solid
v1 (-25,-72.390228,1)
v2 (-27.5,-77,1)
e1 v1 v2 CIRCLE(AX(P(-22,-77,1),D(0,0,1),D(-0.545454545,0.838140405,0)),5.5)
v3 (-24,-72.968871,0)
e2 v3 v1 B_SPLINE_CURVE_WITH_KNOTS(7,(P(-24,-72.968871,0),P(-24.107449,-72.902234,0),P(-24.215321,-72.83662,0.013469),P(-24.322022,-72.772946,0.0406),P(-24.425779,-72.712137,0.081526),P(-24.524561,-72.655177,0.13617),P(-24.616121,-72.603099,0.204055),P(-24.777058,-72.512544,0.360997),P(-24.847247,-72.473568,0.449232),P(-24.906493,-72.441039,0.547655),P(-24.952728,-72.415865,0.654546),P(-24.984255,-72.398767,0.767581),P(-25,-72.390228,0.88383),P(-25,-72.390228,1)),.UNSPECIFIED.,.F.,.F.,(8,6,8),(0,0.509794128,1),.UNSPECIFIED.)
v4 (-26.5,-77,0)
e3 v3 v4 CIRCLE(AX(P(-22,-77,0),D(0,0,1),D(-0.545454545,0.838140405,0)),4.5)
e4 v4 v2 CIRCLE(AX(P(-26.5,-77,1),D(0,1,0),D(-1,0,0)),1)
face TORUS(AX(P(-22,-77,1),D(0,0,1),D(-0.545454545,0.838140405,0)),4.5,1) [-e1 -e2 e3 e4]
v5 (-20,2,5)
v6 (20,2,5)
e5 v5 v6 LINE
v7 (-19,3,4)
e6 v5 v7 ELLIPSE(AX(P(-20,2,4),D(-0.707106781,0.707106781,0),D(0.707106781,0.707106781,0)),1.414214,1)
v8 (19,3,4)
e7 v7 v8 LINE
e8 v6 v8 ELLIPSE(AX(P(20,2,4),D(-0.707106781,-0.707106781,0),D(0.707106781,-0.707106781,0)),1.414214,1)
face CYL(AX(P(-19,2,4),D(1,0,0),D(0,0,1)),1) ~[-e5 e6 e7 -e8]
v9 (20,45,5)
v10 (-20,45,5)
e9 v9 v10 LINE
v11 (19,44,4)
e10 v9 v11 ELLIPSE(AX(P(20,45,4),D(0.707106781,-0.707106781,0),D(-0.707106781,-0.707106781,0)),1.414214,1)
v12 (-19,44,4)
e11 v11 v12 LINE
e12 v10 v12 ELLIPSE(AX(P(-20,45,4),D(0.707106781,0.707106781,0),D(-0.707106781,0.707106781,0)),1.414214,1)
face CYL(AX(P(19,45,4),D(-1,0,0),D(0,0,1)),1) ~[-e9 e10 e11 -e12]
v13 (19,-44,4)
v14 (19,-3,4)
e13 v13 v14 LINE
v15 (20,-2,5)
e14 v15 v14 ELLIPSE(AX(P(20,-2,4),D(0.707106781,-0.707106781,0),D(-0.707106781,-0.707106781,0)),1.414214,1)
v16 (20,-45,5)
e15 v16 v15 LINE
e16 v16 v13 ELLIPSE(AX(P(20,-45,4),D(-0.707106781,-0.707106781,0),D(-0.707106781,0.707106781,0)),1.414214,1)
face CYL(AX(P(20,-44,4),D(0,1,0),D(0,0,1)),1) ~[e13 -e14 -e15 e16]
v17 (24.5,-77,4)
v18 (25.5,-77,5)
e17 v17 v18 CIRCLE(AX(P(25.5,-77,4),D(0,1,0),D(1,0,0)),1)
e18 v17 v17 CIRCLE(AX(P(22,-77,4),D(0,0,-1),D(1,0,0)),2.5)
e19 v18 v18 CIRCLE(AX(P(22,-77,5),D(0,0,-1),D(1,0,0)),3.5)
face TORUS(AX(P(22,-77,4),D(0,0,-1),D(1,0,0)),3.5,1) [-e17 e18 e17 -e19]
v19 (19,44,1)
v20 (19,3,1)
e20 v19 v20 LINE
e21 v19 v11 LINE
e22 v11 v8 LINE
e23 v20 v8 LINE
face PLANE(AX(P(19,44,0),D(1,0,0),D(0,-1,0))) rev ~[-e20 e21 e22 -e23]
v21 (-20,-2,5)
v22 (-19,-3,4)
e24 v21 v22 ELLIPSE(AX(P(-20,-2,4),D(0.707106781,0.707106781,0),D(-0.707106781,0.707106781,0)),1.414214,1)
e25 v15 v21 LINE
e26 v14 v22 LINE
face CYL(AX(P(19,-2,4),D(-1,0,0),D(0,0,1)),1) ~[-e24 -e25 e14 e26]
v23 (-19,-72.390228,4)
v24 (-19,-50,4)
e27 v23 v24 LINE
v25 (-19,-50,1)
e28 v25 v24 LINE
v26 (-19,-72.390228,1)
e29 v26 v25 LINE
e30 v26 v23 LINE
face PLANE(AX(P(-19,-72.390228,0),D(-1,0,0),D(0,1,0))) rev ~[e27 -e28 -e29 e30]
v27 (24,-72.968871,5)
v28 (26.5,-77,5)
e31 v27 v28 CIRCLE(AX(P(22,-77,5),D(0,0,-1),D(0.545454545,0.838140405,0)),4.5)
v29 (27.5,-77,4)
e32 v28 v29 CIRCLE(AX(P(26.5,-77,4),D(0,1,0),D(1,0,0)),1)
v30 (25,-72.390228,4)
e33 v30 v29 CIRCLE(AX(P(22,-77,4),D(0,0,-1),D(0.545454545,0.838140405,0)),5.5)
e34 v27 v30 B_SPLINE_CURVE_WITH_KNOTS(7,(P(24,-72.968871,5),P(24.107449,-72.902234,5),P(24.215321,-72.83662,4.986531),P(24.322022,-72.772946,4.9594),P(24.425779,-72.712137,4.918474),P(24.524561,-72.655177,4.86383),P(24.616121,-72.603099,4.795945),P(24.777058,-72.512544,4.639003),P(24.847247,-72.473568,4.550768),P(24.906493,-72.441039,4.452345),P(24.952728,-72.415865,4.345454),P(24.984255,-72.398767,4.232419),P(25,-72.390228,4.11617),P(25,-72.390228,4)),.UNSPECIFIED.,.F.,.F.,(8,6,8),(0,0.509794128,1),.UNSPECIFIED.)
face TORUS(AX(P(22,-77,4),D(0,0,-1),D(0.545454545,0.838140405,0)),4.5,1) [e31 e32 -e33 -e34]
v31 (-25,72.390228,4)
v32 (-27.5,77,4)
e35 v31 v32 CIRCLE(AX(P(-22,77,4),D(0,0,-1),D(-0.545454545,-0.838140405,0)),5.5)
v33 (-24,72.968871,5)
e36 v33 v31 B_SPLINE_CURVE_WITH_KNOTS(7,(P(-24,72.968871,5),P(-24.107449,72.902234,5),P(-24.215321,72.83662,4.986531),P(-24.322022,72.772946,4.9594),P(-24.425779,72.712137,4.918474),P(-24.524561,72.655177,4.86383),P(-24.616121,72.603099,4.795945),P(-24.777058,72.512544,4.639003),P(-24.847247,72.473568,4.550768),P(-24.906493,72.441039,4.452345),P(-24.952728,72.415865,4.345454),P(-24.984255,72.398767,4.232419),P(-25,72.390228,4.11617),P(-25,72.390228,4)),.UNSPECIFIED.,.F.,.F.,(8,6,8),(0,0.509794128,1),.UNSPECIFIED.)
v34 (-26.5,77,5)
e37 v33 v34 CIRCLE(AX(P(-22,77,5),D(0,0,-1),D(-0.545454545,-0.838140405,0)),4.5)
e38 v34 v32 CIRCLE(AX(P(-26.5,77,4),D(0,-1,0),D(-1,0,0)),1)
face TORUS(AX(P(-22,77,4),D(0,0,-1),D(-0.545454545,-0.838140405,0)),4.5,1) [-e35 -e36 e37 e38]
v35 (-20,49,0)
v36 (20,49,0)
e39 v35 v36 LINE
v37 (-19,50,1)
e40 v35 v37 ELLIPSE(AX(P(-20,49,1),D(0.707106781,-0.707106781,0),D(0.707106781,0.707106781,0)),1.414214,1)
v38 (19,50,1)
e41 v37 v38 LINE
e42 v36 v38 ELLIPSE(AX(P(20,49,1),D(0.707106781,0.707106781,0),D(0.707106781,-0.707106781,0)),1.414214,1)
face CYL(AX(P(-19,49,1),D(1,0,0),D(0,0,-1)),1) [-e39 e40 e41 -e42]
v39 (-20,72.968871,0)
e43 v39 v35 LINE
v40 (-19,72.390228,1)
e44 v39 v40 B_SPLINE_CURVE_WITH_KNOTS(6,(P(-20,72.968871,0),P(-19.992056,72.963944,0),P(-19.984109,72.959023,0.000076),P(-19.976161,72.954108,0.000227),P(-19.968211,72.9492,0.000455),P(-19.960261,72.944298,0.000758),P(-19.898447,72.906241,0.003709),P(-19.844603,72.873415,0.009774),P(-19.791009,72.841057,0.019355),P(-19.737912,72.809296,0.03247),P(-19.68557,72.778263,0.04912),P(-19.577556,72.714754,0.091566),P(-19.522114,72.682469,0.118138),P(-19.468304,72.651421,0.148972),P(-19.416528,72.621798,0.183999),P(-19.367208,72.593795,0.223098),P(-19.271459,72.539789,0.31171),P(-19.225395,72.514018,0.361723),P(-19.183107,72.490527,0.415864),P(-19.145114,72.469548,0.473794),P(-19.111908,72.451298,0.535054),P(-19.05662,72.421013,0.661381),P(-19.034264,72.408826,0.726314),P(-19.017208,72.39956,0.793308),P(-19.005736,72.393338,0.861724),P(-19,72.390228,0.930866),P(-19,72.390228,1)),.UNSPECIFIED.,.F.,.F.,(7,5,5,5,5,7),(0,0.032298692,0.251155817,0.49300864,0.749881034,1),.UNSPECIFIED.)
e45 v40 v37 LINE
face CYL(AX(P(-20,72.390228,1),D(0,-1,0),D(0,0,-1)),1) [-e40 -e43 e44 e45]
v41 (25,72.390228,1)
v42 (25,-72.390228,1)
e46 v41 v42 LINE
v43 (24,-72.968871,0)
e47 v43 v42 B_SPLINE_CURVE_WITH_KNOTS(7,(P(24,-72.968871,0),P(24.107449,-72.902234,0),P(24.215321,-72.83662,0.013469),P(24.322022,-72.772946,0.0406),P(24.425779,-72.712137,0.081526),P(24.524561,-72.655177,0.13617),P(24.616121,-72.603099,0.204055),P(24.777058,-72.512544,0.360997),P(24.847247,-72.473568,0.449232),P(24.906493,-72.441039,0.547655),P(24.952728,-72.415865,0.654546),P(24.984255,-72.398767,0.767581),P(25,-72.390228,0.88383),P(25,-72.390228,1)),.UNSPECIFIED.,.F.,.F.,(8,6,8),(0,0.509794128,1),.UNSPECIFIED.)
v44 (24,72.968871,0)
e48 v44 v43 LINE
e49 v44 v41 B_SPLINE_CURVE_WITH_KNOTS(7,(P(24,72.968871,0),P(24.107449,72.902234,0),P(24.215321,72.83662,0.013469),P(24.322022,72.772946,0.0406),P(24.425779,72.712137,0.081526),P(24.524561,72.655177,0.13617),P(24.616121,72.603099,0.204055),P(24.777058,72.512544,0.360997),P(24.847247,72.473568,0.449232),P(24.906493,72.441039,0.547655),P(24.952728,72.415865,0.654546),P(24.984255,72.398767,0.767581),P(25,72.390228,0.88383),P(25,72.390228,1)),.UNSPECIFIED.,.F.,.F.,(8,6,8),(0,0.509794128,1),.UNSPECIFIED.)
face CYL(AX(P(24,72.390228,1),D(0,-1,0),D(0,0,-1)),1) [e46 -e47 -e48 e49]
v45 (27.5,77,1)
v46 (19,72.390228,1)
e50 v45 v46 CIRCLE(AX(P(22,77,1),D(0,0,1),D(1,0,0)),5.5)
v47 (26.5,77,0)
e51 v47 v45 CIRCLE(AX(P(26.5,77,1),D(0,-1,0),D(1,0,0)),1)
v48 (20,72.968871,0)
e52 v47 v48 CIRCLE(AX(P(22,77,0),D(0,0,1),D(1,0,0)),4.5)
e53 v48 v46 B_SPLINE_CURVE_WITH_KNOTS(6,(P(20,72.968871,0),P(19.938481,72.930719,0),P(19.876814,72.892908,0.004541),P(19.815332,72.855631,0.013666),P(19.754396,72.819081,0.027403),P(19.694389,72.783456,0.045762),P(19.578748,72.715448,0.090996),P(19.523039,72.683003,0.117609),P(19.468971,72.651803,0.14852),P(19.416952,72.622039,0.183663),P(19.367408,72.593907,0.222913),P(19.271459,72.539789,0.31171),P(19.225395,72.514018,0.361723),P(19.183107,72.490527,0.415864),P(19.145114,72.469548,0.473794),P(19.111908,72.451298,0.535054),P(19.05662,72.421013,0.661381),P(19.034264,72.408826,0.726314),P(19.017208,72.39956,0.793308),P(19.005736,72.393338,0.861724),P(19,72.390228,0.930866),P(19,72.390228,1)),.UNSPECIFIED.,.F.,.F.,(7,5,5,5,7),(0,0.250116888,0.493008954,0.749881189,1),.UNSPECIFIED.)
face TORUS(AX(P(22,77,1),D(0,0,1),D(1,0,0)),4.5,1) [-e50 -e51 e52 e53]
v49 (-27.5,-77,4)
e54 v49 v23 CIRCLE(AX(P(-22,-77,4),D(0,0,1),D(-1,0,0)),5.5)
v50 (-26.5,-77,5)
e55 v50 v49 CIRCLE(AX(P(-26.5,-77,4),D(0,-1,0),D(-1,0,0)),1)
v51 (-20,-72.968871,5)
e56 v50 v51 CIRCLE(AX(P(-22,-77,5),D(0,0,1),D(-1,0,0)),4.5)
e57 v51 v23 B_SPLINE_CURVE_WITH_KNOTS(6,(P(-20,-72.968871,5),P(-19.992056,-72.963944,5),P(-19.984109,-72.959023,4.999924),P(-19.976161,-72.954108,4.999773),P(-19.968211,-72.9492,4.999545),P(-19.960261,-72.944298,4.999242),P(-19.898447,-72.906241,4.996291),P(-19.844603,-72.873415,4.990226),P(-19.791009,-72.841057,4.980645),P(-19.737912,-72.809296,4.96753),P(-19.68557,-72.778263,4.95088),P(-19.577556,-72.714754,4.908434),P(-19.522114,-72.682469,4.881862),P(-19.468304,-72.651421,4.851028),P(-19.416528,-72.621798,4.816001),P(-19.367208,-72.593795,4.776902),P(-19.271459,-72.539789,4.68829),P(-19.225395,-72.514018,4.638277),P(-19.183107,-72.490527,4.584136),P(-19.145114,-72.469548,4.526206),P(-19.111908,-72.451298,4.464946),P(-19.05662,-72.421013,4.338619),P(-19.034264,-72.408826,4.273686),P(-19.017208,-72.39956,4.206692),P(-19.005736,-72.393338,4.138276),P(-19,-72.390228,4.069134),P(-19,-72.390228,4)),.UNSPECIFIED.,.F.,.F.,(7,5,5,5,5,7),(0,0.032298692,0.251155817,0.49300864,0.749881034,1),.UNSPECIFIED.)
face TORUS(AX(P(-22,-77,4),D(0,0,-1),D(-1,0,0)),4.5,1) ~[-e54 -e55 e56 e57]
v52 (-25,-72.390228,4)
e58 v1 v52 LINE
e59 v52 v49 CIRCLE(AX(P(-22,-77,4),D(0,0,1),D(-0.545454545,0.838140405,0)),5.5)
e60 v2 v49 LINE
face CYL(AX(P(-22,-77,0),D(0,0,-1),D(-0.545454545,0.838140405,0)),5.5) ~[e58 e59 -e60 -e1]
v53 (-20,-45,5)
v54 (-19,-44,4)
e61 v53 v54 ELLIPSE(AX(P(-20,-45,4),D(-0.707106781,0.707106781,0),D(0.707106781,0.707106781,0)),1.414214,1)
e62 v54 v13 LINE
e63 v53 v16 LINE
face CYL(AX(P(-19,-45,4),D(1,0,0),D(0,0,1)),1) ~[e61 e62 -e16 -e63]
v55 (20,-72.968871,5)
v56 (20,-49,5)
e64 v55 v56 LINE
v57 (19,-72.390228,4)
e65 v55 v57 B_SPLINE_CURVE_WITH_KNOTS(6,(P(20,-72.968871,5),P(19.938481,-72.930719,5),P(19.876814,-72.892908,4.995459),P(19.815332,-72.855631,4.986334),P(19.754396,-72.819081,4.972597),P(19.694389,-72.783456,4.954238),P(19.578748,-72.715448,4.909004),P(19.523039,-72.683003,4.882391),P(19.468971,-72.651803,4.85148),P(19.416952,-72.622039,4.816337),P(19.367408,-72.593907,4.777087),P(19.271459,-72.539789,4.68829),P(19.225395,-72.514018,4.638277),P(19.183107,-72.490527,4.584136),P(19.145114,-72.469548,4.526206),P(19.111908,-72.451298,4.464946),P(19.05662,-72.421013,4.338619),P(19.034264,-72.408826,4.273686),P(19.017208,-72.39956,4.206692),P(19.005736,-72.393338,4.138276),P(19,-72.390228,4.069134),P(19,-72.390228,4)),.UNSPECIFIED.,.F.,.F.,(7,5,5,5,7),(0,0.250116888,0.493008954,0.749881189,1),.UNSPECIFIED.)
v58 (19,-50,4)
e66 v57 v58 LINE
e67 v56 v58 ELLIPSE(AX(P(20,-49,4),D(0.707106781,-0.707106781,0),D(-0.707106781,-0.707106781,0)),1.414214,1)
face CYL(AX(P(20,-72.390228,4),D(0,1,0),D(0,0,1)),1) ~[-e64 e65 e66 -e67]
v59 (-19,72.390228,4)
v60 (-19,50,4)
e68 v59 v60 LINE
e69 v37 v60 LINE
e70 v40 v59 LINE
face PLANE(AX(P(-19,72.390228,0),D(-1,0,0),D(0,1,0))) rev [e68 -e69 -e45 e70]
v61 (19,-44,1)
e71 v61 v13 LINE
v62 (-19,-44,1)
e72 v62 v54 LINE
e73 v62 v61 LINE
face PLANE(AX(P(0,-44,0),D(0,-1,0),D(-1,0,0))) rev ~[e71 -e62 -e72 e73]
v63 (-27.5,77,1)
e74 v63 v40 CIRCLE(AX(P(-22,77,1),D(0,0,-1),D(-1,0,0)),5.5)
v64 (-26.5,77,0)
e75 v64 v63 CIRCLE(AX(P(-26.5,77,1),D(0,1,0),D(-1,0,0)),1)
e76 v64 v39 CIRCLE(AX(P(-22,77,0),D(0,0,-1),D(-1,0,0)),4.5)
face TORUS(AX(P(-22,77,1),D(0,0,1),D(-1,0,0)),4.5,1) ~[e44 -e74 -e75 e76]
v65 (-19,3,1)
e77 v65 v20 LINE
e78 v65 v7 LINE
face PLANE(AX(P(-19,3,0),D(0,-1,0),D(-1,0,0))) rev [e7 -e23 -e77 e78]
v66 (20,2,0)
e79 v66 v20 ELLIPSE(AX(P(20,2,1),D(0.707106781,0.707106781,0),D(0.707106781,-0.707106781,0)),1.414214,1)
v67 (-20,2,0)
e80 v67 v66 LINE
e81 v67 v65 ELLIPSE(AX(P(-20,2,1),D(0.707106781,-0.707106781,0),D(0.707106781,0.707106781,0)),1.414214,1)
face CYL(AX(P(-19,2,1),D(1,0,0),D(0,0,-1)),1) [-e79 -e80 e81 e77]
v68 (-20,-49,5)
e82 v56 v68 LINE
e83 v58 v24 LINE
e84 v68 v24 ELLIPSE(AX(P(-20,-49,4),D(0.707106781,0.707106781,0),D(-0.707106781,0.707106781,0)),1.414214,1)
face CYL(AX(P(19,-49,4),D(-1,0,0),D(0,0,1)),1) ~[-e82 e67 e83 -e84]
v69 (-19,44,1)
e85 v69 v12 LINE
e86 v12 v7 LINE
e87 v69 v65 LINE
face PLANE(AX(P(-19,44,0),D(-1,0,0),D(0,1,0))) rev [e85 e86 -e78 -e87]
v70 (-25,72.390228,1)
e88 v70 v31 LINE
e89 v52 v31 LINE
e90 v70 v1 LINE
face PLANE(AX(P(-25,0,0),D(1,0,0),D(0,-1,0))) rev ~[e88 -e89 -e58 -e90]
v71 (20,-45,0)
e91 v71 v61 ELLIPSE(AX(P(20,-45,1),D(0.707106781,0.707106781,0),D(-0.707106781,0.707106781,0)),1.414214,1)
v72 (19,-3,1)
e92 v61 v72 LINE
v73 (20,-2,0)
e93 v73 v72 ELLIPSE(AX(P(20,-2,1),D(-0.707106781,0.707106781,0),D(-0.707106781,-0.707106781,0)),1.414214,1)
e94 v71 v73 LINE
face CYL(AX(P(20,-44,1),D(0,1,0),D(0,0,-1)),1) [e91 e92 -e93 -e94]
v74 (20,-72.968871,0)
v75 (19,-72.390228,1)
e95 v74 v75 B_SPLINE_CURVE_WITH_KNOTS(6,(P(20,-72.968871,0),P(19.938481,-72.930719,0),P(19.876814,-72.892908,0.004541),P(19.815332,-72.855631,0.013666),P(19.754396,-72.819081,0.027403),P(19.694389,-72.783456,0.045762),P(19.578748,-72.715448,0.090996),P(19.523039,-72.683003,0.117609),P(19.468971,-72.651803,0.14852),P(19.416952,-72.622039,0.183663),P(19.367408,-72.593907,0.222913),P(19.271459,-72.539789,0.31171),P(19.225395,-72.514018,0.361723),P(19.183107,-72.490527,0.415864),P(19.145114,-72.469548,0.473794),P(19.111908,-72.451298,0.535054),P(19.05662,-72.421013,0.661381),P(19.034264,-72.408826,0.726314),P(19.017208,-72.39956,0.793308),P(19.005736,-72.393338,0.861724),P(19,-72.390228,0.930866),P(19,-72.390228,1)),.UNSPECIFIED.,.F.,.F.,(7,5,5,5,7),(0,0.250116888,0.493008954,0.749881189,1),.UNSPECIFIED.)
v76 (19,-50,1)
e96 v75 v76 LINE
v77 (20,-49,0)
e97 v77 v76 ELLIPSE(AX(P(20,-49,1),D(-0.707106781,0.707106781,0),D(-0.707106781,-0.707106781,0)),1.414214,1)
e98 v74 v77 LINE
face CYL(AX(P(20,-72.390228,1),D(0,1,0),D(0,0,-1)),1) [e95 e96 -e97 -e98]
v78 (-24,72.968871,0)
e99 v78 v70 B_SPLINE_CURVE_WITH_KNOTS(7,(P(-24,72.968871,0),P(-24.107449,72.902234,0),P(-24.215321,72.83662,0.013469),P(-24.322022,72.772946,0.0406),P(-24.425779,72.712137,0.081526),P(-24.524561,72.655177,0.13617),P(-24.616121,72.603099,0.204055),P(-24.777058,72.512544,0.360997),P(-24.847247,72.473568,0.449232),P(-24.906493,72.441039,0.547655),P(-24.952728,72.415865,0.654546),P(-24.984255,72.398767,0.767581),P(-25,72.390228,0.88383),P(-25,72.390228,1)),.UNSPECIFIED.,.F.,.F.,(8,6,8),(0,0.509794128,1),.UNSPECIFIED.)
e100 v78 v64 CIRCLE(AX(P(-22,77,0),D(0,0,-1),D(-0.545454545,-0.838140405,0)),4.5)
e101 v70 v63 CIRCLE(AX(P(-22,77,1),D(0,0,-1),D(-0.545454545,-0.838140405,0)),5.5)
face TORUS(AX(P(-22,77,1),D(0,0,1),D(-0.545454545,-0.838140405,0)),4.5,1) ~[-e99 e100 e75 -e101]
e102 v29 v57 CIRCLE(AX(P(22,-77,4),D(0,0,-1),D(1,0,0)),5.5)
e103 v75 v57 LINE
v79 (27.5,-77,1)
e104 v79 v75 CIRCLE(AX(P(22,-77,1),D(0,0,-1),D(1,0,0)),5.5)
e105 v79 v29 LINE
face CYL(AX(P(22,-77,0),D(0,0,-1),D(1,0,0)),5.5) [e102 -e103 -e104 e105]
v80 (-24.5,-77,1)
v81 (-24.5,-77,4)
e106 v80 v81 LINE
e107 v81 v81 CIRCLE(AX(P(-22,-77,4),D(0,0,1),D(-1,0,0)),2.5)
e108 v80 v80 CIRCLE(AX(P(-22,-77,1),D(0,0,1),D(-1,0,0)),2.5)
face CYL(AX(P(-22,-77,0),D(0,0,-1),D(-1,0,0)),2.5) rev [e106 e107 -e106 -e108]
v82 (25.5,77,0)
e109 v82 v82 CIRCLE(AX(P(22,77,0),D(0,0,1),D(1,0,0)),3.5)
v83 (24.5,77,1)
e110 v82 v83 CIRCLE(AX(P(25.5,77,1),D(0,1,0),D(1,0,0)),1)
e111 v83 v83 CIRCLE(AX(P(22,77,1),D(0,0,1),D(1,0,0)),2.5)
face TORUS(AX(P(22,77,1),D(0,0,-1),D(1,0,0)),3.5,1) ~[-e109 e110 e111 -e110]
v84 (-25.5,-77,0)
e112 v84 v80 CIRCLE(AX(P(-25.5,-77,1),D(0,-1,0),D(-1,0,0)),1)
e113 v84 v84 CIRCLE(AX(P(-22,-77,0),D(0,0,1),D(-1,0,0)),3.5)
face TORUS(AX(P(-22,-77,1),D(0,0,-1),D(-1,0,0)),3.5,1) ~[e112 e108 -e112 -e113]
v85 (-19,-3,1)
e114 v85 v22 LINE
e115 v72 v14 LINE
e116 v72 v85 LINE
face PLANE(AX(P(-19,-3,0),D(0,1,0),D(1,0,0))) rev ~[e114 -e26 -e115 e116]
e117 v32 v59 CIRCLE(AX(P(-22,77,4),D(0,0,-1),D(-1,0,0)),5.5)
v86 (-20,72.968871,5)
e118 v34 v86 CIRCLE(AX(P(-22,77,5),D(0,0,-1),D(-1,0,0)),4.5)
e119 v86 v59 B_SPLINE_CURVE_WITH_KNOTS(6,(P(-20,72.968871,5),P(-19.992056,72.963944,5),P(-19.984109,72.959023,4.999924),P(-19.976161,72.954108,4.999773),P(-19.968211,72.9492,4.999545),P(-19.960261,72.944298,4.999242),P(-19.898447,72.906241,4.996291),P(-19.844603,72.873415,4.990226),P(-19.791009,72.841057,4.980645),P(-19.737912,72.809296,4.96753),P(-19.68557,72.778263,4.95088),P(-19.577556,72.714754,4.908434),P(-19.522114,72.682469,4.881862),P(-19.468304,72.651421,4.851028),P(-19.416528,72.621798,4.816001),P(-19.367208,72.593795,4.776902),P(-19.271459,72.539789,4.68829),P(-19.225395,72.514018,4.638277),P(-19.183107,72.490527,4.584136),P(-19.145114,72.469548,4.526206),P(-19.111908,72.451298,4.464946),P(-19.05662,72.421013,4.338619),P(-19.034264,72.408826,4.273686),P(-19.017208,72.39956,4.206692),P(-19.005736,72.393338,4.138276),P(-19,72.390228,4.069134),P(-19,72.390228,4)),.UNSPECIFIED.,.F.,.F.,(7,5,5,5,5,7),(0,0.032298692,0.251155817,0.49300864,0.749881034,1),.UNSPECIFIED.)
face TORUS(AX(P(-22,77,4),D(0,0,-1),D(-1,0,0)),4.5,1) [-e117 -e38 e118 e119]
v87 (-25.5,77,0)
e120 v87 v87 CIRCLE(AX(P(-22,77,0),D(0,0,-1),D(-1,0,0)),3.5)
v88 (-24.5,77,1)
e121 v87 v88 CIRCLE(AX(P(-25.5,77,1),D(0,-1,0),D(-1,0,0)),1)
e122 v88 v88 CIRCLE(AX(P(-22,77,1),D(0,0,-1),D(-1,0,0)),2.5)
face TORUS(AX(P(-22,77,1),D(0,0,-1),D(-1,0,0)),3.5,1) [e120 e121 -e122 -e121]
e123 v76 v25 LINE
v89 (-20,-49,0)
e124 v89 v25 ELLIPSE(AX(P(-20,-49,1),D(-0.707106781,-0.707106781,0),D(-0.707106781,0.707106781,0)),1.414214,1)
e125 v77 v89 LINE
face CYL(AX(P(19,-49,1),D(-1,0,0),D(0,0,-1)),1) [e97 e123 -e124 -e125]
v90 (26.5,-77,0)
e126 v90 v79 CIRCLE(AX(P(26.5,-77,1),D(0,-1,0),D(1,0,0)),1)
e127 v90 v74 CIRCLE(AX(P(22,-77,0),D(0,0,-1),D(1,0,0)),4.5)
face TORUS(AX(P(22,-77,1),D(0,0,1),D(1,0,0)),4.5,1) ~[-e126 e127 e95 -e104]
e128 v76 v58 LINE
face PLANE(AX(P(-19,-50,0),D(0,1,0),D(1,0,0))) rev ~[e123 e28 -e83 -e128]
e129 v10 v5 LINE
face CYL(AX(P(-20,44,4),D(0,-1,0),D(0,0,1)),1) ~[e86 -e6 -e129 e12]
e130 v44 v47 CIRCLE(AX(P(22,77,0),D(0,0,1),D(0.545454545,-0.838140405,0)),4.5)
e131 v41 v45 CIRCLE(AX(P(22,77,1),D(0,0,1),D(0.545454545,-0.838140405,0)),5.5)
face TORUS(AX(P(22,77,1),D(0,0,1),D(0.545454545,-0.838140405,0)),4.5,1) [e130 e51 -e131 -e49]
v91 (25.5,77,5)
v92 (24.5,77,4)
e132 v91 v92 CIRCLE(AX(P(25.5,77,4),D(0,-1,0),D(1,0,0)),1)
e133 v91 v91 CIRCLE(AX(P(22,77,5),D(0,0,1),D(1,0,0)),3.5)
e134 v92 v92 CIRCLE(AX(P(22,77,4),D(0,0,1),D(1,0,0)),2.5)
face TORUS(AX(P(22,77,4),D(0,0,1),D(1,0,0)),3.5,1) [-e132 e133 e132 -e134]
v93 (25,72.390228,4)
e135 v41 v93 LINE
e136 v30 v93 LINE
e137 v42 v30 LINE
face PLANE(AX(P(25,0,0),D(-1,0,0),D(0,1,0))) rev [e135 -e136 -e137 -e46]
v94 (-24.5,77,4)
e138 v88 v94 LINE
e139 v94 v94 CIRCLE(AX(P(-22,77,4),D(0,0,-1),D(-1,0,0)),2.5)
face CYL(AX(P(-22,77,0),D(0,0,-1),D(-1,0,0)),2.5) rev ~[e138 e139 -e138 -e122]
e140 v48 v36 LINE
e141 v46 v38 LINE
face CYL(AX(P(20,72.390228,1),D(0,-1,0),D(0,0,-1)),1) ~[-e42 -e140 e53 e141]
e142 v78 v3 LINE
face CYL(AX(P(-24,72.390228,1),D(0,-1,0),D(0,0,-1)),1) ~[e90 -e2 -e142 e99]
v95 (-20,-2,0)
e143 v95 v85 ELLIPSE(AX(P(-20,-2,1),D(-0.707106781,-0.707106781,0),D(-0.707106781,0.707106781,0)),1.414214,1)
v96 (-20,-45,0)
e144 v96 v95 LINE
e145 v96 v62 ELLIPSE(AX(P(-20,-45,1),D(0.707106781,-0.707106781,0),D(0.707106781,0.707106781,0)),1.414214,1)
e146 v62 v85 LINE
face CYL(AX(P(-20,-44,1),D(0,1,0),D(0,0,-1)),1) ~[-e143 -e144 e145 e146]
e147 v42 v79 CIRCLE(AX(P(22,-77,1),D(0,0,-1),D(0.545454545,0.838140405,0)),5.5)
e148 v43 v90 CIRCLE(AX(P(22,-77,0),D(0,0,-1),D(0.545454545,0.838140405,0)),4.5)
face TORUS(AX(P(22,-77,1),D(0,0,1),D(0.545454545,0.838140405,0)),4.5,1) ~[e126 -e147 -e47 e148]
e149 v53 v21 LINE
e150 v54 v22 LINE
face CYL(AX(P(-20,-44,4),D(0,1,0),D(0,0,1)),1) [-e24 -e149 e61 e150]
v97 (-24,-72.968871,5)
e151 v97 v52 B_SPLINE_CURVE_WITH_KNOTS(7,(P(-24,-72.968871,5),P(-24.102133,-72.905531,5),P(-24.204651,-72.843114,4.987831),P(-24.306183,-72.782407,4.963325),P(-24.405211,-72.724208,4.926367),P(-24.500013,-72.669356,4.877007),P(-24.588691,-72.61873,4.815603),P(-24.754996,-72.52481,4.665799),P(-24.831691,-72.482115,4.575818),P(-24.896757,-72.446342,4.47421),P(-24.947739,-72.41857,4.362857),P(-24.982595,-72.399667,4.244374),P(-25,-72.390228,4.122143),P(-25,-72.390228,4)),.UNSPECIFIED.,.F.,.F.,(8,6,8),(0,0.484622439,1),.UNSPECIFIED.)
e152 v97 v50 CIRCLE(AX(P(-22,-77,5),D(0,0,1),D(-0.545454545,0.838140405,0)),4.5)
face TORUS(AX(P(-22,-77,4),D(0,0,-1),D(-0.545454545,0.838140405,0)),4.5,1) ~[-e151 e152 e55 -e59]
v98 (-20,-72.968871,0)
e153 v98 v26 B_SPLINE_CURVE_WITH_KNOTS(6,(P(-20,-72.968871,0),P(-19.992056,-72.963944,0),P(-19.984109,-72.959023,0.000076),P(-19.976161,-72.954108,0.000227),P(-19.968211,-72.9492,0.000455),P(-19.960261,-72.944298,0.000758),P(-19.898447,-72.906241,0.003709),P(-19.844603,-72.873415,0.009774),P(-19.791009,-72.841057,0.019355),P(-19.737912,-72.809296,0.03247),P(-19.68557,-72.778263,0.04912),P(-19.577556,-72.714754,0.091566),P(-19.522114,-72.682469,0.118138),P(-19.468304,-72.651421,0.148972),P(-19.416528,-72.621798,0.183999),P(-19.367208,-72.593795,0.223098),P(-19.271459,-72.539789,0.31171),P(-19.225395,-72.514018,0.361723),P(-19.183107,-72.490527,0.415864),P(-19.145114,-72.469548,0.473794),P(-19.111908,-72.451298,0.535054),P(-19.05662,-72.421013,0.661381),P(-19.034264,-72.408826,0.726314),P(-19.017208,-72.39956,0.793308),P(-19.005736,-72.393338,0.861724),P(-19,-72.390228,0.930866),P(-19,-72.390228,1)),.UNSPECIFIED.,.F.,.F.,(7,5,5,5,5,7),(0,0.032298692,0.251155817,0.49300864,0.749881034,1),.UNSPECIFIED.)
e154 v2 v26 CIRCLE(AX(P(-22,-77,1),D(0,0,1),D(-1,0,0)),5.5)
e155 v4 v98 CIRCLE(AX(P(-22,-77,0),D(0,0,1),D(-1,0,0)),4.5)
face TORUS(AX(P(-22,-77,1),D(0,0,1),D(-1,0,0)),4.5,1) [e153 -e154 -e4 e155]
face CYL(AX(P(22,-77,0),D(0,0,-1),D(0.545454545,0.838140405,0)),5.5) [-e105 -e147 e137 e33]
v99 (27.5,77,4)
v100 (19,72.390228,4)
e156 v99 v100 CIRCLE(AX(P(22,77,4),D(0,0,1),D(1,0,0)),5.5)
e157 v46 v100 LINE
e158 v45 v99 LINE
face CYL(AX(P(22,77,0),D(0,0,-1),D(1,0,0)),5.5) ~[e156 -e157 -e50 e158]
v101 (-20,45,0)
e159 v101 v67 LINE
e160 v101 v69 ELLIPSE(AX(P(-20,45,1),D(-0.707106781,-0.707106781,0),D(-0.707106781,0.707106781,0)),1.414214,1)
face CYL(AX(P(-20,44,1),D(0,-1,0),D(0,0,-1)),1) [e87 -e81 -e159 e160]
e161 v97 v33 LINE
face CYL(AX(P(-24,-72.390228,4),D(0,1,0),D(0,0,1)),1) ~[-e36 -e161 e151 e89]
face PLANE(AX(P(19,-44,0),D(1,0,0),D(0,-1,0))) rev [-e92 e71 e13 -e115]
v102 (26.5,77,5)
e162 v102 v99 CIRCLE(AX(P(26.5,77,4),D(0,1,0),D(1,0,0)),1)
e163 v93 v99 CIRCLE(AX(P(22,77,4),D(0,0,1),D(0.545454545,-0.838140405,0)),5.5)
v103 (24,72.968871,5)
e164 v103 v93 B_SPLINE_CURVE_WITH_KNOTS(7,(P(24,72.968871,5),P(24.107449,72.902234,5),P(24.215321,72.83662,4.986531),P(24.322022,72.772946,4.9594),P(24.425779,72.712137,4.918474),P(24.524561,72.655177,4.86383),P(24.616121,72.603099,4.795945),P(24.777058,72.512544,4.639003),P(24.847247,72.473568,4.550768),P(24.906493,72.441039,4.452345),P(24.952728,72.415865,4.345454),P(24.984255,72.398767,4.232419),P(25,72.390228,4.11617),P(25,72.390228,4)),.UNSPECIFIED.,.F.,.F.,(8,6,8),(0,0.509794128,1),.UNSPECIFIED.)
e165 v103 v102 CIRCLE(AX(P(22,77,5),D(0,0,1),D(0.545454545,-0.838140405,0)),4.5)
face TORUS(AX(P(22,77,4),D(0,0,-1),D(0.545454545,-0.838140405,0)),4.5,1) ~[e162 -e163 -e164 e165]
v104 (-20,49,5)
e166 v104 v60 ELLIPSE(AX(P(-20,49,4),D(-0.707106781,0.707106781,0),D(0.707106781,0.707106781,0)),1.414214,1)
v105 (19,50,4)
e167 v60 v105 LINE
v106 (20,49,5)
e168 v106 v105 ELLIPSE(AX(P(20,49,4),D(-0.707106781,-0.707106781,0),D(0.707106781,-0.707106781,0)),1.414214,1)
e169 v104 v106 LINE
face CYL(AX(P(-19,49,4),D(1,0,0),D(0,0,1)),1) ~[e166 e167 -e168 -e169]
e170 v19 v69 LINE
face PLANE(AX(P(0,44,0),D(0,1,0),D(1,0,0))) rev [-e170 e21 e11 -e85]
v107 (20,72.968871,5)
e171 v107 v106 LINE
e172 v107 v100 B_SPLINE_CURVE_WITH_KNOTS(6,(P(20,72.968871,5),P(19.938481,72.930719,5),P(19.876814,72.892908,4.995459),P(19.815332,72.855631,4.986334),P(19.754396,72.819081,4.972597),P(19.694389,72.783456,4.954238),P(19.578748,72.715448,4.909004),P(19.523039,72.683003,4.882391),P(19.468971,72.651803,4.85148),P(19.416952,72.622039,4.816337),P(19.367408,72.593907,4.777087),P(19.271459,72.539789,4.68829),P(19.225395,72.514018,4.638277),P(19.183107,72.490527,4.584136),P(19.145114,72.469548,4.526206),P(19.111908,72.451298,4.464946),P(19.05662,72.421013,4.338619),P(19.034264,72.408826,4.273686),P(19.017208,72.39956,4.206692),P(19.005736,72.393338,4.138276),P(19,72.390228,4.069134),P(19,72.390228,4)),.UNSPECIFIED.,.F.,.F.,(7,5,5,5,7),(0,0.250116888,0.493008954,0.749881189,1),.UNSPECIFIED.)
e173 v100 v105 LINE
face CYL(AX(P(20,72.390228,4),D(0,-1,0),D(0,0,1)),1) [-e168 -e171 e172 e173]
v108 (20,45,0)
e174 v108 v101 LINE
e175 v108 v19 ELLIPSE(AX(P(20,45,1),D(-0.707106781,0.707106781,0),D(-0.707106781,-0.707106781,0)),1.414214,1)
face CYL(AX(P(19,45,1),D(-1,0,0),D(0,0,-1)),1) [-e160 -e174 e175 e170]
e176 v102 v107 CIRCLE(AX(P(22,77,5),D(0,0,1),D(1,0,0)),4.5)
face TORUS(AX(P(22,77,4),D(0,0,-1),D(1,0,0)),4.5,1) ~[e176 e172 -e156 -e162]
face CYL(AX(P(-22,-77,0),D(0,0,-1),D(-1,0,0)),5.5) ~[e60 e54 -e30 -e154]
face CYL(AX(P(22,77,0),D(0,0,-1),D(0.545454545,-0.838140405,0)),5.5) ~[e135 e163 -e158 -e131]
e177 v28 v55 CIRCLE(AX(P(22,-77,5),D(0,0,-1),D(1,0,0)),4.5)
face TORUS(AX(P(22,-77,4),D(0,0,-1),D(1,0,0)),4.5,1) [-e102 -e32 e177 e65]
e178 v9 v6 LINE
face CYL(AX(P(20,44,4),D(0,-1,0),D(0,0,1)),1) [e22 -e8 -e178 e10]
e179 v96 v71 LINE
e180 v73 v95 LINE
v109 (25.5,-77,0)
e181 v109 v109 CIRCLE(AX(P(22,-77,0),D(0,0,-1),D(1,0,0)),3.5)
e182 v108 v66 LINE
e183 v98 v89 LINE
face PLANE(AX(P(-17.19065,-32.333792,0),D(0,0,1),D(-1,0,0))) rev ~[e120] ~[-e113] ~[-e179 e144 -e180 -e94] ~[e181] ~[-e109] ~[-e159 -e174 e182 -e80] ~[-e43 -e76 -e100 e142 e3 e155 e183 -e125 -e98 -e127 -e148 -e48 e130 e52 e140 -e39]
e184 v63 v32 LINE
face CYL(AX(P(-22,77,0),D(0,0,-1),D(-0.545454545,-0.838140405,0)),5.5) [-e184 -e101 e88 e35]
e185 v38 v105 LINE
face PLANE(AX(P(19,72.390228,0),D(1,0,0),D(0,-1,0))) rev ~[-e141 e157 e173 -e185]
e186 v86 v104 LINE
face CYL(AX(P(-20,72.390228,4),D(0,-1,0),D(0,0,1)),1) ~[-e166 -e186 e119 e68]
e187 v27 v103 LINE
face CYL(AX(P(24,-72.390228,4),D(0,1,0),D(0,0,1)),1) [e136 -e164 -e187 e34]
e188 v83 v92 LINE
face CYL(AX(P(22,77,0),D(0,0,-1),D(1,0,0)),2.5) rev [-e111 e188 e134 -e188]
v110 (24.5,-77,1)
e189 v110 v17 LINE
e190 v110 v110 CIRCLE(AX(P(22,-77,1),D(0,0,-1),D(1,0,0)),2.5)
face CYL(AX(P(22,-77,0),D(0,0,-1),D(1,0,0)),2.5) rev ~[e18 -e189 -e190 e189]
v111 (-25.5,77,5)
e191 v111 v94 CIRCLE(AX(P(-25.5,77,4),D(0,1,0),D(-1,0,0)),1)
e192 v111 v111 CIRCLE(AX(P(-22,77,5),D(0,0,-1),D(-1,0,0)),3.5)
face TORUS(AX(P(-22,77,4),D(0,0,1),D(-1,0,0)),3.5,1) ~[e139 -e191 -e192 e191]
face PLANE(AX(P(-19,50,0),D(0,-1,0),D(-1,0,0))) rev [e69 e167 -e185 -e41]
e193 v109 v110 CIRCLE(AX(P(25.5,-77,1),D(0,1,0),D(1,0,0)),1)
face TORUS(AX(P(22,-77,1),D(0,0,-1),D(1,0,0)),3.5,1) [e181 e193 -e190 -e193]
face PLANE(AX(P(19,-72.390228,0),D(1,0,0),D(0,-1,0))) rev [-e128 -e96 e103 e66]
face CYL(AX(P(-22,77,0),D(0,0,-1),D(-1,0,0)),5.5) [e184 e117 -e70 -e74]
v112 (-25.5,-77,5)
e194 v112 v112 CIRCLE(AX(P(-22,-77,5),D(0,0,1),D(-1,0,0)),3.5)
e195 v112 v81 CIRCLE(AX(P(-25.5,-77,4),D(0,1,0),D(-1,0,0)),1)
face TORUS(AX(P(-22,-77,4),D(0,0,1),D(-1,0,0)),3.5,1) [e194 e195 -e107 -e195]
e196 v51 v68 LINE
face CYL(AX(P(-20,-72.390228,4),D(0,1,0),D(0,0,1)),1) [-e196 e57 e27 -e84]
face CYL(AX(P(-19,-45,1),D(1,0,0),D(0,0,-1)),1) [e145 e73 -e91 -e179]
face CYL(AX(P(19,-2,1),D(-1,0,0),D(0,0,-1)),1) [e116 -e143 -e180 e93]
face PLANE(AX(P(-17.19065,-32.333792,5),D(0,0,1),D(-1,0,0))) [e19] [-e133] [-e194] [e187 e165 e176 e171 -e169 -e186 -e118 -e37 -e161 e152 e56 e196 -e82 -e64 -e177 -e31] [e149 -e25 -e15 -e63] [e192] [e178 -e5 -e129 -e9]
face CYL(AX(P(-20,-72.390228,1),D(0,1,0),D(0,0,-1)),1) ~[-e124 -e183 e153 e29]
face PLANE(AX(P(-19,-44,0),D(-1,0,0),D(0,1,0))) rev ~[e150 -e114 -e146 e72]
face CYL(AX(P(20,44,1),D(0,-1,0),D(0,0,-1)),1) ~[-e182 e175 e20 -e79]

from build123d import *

# Parameters (mm, degrees)
F1_R     = 2.5
F2_DEPTH = 5
F5_R     = 1


with BuildPart() as f2:
    # F1 (on Top) → F2 (new body)
    with BuildSketch(Plane.XY):
        with BuildLine():
            Line((0, 3), (0, 0))
            Line((0, 0), (25, 0))
            Line((25, 0), (25, 50))
            Line((25, 50), (25, 72.3902277714))
            ThreePointArc((25, 72.3902277714), (22, 71.5), (19, 72.3902277714))
            Line((19, 72.3902277714), (19, 50))
            Line((19, 50), (0, 50))
            Line((0, 50), (0, 44))
            Line((0, 44), (19, 44))
            Line((19, 44), (19, 3))
            Line((19, 3), (0, 3))
        make_face()
        with BuildLine():
            Line((25, 80), (25, 72.3902277714))
            ThreePointArc((25, 72.3902277714), (26.8347699015, 74.3779778796), (27.5, 77))
            ThreePointArc((27.5, 77), (19.3779778796, 81.8347699015), (19, 72.3902277714))
            Line((19, 72.3902277714), (19, 80))
            Line((19, 80), (25, 80))
        make_face()
        with BuildLine():
            ThreePointArc((19, 72.3902277714), (22, 71.5), (25, 72.3902277714))
            Line((25, 72.3902277714), (25, 80))
            Line((25, 80), (19, 80))
            Line((19, 80), (19, 72.3902277714))
        make_face()
        with Locations((22, 77)):
            Circle(F1_R, mode=Mode.SUBTRACT)
    extrude(amount=F2_DEPTH)

    # F3: F2 across plane


with BuildPart() as f2_1:
    add(f2.part)
    add(f2.part.mirror(Plane.XZ))

    # F4: F2 across plane


with BuildPart() as f2_2:
    add(f2_1.part)
    add(f2_1.part.mirror(Plane.YZ))

    # F5
    f5_edges = [f2_2.edges().sort_by_distance(p)[0] for p in [
        (0, -3, 0),
        (19, -23.5, 0),
        (0, -44, 0),
        (-19, -23.5, 0),
        (0, -50, 0),
        (19, -61.195114, 0),
        (22, -82.5, 0),
        (25, 0, 0),
        (22, 82.5, 0),
        (19, 61.195114, 0),
        (0, 50, 0),
        (-19, 61.195114, 0),
        (-22, 82.5, 0),
        (-25, 0, 0),
        (-22, -82.5, 0),
        (-19, -61.195114, 0),
        (0, 44, 0),
        (19, 23.5, 0),
        (0, 3, 0),
        (-19, 23.5, 0),
        (19.5, 77, 0),
        (19.5, -77, 0),
        (-19.5, -77, 0),
        (-19.5, 77, 0),
        (0, -3, 5),
        (19, -23.5, 5),
        (0, -44, 5),
        (-19, -23.5, 5),
        (0, -50, 5),
        (19, -61.195114, 5),
        (22, -82.5, 5),
        (25, 0, 5),
        (22, 82.5, 5),
        (19, 61.195114, 5),
        (0, 50, 5),
        (-19, 61.195114, 5),
        (-22, 82.5, 5),
        (-25, 0, 5),
        (-22, -82.5, 5),
        (-19, -61.195114, 5),
        (0, 44, 5),
        (19, 23.5, 5),
        (0, 3, 5),
        (-19, 23.5, 5),
        (19.5, 77, 5),
        (19.5, -77, 5),
        (-19.5, -77, 5),
        (-19.5, 77, 5),
    ]]
    fillet(f5_edges, radius=F5_R)


solid = f2_2.part
